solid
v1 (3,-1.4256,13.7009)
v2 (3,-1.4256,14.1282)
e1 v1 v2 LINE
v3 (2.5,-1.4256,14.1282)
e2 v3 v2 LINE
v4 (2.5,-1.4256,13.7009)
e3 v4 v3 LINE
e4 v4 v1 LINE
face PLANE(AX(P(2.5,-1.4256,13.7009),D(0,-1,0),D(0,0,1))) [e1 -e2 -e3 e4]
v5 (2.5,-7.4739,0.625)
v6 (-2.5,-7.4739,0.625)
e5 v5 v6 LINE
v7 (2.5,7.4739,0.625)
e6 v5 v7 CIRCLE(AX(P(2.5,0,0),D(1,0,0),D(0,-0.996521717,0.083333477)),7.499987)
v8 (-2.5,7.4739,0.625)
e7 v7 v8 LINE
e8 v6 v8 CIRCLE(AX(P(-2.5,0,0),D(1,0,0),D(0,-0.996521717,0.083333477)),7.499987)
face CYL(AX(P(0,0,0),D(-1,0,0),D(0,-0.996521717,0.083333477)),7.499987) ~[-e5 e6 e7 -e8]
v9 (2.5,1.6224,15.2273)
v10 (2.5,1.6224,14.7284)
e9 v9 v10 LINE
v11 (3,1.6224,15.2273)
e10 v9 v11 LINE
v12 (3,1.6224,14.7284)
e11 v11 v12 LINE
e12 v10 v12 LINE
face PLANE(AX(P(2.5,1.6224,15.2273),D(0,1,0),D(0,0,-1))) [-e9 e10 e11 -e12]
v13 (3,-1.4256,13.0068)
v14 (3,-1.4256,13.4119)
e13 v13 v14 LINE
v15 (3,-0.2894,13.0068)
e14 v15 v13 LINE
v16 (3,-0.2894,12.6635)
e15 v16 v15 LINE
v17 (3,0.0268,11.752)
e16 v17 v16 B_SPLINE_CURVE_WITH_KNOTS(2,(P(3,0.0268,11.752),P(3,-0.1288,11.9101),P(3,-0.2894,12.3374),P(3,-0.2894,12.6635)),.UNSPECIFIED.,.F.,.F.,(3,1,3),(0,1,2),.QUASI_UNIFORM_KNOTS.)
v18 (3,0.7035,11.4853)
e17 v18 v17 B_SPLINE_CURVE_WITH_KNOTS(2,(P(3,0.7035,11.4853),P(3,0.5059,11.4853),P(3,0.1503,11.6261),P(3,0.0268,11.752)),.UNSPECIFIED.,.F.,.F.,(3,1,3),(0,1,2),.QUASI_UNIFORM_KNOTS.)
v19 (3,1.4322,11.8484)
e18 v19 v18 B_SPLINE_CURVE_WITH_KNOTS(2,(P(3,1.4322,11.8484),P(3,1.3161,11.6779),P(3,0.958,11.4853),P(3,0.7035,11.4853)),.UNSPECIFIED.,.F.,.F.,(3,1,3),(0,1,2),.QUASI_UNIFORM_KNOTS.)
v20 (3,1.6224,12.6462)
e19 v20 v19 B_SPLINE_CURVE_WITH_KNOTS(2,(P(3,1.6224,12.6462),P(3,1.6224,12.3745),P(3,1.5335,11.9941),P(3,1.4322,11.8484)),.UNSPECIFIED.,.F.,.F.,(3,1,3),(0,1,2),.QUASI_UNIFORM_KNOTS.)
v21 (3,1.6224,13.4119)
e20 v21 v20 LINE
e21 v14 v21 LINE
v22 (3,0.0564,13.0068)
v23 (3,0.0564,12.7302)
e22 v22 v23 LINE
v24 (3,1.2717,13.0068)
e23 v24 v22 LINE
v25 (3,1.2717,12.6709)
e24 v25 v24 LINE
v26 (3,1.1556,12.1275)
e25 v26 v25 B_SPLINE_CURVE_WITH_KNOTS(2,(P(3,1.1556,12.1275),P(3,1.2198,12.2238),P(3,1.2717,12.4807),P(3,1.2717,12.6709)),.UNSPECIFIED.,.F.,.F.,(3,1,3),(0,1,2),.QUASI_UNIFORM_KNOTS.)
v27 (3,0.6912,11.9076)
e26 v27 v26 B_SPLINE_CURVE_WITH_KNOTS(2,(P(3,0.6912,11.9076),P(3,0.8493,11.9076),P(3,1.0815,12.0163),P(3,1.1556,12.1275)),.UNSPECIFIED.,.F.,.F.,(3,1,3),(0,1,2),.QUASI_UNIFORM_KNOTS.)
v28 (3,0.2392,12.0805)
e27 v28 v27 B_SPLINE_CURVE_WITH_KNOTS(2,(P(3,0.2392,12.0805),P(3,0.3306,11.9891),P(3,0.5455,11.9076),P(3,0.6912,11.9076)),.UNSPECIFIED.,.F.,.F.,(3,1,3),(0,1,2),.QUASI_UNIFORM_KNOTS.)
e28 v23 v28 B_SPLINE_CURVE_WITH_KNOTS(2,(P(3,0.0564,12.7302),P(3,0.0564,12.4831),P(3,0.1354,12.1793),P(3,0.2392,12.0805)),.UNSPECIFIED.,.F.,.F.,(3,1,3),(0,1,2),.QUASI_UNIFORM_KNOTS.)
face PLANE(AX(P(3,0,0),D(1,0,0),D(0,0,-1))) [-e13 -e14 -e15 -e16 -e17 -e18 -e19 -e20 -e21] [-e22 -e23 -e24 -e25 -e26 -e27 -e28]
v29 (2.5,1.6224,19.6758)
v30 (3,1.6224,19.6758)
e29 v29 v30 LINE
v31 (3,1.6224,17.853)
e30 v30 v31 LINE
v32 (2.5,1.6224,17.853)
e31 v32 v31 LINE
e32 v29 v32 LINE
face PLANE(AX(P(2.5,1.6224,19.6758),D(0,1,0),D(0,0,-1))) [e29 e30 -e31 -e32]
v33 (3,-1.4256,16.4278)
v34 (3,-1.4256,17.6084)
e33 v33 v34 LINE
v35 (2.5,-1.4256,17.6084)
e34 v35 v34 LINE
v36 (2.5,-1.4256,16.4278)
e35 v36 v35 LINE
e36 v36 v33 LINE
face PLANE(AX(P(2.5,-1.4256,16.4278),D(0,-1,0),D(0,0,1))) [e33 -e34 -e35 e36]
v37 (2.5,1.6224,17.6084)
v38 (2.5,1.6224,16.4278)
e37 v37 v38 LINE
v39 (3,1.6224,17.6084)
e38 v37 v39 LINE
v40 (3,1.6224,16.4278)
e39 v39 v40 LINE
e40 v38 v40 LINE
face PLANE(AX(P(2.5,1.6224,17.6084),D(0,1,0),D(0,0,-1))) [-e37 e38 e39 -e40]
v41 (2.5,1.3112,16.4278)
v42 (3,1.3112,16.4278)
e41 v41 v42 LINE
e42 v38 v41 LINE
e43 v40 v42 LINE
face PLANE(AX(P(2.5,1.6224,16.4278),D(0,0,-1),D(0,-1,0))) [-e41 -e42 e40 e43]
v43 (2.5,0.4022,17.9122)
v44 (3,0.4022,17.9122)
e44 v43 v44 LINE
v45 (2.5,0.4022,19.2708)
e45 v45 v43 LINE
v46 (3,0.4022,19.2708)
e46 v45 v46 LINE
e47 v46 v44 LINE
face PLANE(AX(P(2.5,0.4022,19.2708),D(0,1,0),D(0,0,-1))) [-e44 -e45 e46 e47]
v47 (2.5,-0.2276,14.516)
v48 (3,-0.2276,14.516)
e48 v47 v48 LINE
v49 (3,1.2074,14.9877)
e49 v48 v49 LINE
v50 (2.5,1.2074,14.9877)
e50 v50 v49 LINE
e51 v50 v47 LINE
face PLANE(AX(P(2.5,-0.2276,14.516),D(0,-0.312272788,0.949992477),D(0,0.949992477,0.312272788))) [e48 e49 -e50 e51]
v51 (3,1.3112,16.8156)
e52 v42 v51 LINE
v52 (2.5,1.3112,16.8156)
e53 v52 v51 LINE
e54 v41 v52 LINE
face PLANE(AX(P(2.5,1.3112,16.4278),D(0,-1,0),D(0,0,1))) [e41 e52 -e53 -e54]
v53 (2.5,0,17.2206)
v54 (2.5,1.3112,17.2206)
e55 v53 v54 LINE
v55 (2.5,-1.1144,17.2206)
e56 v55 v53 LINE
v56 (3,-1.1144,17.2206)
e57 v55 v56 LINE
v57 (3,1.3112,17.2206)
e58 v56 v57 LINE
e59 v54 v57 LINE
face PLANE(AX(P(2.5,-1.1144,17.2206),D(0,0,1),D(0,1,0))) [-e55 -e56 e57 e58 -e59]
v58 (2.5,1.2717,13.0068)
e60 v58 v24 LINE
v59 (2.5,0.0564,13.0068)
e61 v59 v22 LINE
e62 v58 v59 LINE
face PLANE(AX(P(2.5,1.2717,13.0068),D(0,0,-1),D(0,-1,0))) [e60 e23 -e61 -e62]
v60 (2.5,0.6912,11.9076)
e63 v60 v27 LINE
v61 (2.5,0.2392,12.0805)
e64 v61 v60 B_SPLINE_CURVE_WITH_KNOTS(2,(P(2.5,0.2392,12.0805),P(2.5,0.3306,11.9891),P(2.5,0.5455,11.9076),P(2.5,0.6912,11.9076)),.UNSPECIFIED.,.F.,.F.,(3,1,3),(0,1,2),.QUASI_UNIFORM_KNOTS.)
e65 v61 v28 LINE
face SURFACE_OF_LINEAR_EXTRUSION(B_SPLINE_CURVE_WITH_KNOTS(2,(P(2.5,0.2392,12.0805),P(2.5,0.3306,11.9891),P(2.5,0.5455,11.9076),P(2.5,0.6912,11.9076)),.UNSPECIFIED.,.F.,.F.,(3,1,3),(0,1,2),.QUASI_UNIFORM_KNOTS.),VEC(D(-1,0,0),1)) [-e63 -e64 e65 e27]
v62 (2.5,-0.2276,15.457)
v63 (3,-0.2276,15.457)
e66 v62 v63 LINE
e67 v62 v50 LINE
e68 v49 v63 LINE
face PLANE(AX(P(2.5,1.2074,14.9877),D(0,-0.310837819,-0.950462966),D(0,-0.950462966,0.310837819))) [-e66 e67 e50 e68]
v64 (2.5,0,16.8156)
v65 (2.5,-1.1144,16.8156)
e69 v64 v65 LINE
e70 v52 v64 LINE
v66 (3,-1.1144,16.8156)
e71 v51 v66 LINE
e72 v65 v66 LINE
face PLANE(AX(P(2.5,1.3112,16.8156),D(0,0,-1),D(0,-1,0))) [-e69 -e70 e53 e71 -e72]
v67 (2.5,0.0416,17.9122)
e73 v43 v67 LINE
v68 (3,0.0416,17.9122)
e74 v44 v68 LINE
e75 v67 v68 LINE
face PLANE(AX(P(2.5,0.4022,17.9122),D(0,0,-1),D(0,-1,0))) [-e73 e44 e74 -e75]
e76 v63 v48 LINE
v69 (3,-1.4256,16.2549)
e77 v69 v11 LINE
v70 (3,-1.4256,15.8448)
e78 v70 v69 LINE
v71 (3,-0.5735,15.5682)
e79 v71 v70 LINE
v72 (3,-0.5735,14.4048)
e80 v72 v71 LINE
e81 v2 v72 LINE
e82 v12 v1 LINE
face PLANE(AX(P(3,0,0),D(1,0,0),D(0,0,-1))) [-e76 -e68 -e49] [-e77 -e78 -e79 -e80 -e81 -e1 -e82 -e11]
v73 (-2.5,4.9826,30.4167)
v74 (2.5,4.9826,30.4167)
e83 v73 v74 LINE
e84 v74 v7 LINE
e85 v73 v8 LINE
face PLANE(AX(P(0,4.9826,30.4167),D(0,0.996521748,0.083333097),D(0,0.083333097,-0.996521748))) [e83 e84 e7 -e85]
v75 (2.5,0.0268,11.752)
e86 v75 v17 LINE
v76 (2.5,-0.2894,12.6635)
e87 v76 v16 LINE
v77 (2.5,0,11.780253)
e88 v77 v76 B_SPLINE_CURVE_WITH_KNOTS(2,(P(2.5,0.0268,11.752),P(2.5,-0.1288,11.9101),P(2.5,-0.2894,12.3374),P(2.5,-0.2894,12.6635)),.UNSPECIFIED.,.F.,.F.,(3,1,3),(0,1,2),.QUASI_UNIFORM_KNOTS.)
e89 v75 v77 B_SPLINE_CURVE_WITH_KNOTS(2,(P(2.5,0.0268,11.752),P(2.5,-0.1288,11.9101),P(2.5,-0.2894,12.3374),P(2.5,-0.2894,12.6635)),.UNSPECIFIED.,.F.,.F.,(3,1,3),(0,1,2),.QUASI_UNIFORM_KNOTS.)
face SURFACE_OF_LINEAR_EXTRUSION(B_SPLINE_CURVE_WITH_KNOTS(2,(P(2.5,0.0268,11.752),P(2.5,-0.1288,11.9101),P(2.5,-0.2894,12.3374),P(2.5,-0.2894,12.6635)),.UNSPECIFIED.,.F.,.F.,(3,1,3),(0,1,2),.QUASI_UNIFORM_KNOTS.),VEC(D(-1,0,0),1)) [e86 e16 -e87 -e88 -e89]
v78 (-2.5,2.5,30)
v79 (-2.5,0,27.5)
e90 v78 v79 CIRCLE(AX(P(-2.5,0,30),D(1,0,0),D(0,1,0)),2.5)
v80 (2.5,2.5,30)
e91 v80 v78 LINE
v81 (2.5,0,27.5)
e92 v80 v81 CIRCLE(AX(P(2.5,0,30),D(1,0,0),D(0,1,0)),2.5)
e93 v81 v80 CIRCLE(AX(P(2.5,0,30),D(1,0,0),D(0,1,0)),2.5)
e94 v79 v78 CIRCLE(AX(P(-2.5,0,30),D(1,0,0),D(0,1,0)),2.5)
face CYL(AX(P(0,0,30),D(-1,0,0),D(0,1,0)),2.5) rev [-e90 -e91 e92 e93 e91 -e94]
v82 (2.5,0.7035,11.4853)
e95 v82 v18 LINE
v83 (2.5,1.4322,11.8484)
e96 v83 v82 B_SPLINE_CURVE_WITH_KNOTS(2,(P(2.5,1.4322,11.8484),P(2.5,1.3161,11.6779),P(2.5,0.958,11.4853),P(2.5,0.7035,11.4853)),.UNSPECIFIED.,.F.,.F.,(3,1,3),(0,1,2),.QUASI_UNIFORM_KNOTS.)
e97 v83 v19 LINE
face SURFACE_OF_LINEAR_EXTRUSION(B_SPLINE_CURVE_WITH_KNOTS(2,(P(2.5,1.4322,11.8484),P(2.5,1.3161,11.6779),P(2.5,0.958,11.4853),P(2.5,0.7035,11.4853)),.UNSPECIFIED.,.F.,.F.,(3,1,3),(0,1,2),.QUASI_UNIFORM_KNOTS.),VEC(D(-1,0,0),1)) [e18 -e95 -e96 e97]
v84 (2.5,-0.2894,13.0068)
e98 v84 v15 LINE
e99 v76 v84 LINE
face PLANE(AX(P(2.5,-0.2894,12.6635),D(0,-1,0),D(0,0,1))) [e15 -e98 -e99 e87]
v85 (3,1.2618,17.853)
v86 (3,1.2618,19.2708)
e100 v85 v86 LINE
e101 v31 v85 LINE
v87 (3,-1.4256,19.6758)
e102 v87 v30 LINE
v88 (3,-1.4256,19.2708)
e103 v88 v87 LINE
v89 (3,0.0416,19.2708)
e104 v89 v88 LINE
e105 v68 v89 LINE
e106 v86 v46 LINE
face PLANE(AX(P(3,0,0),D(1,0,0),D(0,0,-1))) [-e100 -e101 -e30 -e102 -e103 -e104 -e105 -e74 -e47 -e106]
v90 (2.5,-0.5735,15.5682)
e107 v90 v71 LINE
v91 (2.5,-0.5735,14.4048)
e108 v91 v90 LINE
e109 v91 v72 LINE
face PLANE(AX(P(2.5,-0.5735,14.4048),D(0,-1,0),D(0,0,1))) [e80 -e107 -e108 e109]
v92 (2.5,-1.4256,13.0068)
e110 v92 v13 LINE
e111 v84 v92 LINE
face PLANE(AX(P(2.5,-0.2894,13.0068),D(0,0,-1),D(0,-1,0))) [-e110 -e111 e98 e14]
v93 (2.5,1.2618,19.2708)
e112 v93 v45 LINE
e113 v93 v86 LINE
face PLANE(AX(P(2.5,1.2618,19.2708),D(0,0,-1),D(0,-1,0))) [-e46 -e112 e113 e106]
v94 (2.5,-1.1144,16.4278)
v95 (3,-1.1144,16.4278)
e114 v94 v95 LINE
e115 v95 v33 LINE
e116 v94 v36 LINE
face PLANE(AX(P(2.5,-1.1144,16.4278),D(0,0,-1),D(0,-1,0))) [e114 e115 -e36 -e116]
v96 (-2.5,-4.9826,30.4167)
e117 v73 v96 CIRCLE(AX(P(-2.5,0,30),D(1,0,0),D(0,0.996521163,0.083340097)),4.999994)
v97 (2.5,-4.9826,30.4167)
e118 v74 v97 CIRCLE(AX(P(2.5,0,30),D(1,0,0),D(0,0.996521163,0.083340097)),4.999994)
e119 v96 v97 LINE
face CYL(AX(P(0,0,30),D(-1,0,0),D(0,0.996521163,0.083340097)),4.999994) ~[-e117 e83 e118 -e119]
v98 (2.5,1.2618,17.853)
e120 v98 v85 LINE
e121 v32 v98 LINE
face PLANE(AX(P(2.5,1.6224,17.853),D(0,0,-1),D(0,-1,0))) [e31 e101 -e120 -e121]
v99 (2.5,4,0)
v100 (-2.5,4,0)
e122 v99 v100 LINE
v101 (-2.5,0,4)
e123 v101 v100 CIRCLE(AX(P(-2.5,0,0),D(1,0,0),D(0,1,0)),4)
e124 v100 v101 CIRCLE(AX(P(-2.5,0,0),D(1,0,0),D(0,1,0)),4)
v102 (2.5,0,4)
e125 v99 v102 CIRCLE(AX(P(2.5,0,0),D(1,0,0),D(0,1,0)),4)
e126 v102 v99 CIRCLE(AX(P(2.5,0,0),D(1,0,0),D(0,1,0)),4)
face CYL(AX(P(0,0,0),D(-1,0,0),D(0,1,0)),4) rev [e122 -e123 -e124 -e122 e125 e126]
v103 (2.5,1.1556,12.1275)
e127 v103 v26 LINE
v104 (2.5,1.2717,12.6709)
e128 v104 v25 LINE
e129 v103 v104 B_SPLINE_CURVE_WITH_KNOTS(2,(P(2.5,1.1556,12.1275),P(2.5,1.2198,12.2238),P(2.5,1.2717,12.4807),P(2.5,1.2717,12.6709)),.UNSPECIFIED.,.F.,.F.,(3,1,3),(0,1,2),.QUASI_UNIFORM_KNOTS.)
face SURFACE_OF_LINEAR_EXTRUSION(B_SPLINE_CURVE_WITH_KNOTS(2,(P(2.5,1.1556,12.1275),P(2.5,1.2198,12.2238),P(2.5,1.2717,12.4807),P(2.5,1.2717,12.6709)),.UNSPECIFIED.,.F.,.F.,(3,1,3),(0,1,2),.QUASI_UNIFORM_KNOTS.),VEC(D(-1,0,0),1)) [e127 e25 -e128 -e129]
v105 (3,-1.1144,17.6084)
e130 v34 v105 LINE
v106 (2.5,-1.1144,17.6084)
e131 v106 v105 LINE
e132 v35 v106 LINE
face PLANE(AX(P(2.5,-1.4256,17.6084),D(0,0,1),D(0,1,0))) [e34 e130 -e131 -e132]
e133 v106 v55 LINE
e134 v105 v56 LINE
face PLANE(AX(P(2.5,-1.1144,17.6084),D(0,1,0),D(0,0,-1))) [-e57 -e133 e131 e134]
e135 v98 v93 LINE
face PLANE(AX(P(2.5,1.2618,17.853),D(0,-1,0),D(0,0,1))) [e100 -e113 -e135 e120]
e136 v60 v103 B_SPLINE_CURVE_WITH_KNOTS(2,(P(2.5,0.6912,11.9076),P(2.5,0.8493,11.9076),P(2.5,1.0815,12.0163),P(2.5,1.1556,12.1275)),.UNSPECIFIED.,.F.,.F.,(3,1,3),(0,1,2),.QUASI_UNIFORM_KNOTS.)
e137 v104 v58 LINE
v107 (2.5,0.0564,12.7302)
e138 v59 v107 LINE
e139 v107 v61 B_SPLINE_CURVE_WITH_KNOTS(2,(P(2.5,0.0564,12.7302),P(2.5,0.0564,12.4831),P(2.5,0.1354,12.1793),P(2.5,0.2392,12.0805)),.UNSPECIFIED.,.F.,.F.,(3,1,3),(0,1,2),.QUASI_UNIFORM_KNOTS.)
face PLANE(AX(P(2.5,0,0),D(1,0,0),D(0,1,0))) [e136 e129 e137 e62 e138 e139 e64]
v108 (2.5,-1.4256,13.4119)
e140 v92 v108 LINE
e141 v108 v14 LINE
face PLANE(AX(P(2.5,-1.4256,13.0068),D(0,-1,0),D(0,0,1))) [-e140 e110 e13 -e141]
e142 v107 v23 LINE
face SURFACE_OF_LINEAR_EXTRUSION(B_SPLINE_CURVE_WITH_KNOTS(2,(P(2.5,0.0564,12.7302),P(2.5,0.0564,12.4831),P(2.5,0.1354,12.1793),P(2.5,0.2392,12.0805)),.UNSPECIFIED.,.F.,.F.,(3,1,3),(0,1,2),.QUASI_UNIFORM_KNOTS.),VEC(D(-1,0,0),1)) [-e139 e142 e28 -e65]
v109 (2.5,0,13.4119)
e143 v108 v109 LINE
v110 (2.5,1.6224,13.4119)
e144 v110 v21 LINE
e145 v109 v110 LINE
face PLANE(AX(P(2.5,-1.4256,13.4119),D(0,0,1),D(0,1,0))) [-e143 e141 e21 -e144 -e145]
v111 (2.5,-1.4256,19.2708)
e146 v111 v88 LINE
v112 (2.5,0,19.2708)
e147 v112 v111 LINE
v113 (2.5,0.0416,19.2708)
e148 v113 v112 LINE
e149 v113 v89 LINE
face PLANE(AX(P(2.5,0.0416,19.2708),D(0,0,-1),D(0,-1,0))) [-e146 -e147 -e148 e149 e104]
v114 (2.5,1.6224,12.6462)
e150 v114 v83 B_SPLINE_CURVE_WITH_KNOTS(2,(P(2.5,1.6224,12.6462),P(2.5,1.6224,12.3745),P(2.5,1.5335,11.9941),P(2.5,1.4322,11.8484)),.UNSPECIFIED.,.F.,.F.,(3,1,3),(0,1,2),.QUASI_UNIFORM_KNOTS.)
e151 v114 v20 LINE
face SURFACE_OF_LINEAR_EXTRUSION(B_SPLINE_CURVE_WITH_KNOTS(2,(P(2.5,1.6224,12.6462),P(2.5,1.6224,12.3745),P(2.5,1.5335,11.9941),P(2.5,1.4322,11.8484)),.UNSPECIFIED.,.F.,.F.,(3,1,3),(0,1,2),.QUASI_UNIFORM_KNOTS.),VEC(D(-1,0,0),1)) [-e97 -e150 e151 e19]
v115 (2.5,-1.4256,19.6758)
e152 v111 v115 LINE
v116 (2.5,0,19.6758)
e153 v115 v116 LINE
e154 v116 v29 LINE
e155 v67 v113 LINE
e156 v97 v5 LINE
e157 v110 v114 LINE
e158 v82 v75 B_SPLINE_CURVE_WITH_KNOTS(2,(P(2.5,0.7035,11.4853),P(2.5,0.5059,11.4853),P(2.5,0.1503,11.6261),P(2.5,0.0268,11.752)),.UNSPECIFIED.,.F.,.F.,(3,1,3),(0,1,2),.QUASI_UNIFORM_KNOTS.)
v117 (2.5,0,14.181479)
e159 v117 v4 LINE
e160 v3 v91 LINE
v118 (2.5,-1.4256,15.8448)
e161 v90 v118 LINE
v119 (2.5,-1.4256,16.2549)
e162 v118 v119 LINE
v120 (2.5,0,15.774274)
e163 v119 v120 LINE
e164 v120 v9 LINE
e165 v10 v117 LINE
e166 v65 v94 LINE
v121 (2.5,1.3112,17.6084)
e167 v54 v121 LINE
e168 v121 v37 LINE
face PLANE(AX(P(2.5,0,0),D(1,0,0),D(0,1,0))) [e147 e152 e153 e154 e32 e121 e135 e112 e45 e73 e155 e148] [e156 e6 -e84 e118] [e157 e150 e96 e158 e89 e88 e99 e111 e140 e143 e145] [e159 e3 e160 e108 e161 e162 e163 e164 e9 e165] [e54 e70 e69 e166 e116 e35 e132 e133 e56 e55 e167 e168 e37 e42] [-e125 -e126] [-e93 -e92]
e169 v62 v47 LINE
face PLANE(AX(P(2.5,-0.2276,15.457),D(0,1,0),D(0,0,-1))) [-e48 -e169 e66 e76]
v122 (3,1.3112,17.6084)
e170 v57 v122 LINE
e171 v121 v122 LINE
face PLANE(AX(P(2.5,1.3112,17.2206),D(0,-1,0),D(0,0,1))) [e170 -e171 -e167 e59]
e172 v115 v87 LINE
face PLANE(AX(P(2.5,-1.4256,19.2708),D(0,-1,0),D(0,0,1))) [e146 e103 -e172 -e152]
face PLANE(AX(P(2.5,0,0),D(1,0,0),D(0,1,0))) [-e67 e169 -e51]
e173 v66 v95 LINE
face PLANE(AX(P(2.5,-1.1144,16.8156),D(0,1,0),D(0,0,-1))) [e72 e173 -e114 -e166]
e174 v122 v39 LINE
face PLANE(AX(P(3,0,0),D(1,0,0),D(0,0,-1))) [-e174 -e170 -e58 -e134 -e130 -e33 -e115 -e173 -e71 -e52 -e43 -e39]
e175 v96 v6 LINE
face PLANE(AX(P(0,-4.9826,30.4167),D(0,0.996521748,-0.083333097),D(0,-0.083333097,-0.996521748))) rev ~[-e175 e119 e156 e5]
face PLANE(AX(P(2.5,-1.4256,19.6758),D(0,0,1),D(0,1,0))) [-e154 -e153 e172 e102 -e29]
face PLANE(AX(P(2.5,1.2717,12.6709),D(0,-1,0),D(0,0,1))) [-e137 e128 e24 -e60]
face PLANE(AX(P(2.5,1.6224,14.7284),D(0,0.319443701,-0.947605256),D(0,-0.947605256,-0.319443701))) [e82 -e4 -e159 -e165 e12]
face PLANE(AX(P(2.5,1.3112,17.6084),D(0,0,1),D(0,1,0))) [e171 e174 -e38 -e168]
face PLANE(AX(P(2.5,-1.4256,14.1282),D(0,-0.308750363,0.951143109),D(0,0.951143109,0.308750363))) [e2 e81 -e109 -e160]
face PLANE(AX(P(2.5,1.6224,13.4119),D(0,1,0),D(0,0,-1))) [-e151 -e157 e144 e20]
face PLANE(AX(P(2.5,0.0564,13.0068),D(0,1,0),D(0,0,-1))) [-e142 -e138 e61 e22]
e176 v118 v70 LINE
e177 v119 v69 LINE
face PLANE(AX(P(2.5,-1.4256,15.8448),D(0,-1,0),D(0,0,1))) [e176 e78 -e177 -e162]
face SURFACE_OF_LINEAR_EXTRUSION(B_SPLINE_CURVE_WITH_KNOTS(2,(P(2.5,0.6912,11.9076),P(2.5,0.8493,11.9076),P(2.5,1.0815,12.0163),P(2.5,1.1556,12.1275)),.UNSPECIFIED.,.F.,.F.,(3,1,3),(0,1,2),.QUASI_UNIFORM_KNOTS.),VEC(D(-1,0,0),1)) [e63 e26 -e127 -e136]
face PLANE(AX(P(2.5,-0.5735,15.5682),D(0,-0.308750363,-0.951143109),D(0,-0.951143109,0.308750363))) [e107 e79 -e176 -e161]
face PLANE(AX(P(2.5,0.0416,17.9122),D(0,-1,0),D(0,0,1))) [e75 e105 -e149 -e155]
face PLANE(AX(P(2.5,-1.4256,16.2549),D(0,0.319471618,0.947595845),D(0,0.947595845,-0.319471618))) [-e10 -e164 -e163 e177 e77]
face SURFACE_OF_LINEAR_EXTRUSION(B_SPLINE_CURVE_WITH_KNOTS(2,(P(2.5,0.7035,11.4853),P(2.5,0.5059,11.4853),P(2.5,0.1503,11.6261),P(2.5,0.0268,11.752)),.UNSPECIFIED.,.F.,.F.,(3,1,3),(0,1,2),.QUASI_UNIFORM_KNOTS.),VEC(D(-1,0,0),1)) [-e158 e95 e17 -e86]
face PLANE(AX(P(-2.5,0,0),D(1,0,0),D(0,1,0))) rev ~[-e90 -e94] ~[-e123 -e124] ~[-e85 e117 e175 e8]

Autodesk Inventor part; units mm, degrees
ref_plane "YZ Plane" through (0, 0, 0) normal (1, 0, 0) x (0, 1, 0)
ref_plane "XZ Plane" through (0, 0, 0) normal (0, 1, 0) x (-1, 0, 0)
ref_plane "XY Plane" through (0, 0, 0) normal (0, 0, 1) x (1, 0, 0)
sketch "Esboço1" plane through (0, 0, 0) normal (1, 0, 0) x (0, 1, 0)
  line L0 (0, 0) -> (0, 30)
  circle A0 centre (0, 0) radius 4
  circle A1 centre (0, 30) radius 2.5
  arc A2 (4.9826, 30.4167) -> (-4.9826, 30.4167) centre (0, 30) ccw
  arc A3 (-7.4739, 0.625) -> (7.4739, 0.625) centre (0, 0) ccw
  line L1 (4.9826, 30.4167) -> (7.4739, 0.625)
  line L2 (-4.9826, 30.4167) -> (-7.4739, 0.625)
extrude "Extrusão1" add sketch "Esboço1" along normal mid plane 5
sketch "Esboço2" plane through (2.5, 0, 0) normal (1, 0, 0) x (0, 0, -1)
  line L0 (-19.9846, 1.6224) -> (-11.4087, 1.6224) construction
  line L1 (-11.4087, 1.6224) -> (-11.4087, -1.4256) construction
  line L2 (-11.4087, -1.4256) -> (-19.9846, -1.4256) construction
  line L3 (-19.9846, -1.4256) -> (-19.9846, 1.6224) construction
  circle A0 centre (-30, 0) radius 2.5 projected
  line L4 (-17.853, 1.2618) -> (-19.2708, 1.2618)
  line L5 (-19.2708, 1.2618) -> (-19.2708, 0.4022)
  line L6 (-19.2708, 0.4022) -> (-17.9122, 0.4022)
  line L7 (-17.9122, 0.4022) -> (-17.9122, 0.0416)
  line L8 (-17.9122, 0.0416) -> (-19.2708, 0.0416)
  line L9 (-19.2708, 0.0416) -> (-19.2708, -1.4256)
  line L10 (-19.2708, -1.4256) -> (-19.6758, -1.4256)
  line L11 (-19.6758, -1.4256) -> (-19.6758, 1.6224)
  line L12 (-19.6758, 1.6224) -> (-17.853, 1.6224)
  line L13 (-17.853, 1.6224) -> (-17.853, 1.2618)
  line L14 (-16.4278, -1.4256) -> (-17.6084, -1.4256)
  line L15 (-17.6084, -1.4256) -> (-17.6084, -1.1144)
  line L16 (-17.6084, -1.1144) -> (-17.2206, -1.1144)
  line L17 (-17.2206, -1.1144) -> (-17.2206, 1.3112)
  line L18 (-17.2206, 1.3112) -> (-17.6084, 1.3112)
  line L19 (-17.6084, 1.3112) -> (-17.6084, 1.6224)
  line L20 (-17.6084, 1.6224) -> (-16.4278, 1.6224)
  line L21 (-16.4278, 1.6224) -> (-16.4278, 1.3112)
  line L22 (-16.4278, 1.3112) -> (-16.8156, 1.3112)
  line L23 (-16.8156, 1.3112) -> (-16.8156, -1.1144)
  line L24 (-16.8156, -1.1144) -> (-16.4278, -1.1144)
  line L25 (-16.4278, -1.1144) -> (-16.4278, -1.4256)
  line L26 (-16.2549, -1.4256) -> (-15.2273, 1.6224)
  line L27 (-15.2273, 1.6224) -> (-14.7284, 1.6224)
  line L28 (-14.7284, 1.6224) -> (-13.7009, -1.4256)
  line L29 (-13.7009, -1.4256) -> (-14.1282, -1.4256)
  line L30 (-14.1282, -1.4256) -> (-14.4048, -0.5735)
  line L31 (-14.4048, -0.5735) -> (-15.5682, -0.5735)
  line L32 (-15.5682, -0.5735) -> (-15.8448, -1.4256)
  line L33 (-15.8448, -1.4256) -> (-16.2549, -1.4256)
  line L34 (-14.516, -0.2276) -> (-14.9877, 1.2074)
  line L35 (-14.9877, 1.2074) -> (-15.457, -0.2276)
  line L36 (-15.457, -0.2276) -> (-14.516, -0.2276)
  spline S0 degree 2 poles (-11.4853, 0.7035) (-11.4853, 0.5059) (-11.6261, 0.1503) (-11.752, 0.0268) knots 0 0 0 1 2 2 2
  spline S1 degree 2 poles (-11.752, 0.0268) (-11.9101, -0.1288) (-12.3374, -0.2894) (-12.6635, -0.2894) knots 0 0 0 1 2 2 2
  line L37 (-12.6635, -0.2894) -> (-13.0068, -0.2894)
  line L38 (-13.0068, -0.2894) -> (-13.0068, -1.4256)
  line L39 (-13.0068, -1.4256) -> (-13.4119, -1.4256)
  line L40 (-13.4119, -1.4256) -> (-13.4119, 1.6224)
  line L41 (-13.4119, 1.6224) -> (-12.6462, 1.6224)
  spline S2 degree 2 poles (-12.6462, 1.6224) (-12.3745, 1.6224) (-11.9941, 1.5335) (-11.8484, 1.4322) knots 0 0 0 1 2 2 2
  spline S3 degree 2 poles (-11.8484, 1.4322) (-11.6779, 1.3161) (-11.4853, 0.958) (-11.4853, 0.7035) knots 0 0 0 1 2 2 2
  spline S4 degree 2 poles (-11.9076, 0.6912) (-11.9076, 0.8493) (-12.0163, 1.0815) (-12.1275, 1.1556) knots 0 0 0 1 2 2 2
  spline S5 degree 2 poles (-12.1275, 1.1556) (-12.2238, 1.2198) (-12.4807, 1.2717) (-12.6709, 1.2717) knots 0 0 0 1 2 2 2
  line L42 (-12.6709, 1.2717) -> (-13.0068, 1.2717)
  line L43 (-13.0068, 1.2717) -> (-13.0068, 0.0564)
  line L44 (-13.0068, 0.0564) -> (-12.7302, 0.0564)
  spline S6 degree 2 poles (-12.7302, 0.0564) (-12.4831, 0.0564) (-12.1793, 0.1354) (-12.0805, 0.2392) knots 0 0 0 1 2 2 2
  spline S7 degree 2 poles (-12.0805, 0.2392) (-11.9891, 0.3306) (-11.9076, 0.5455) (-11.9076, 0.6912) knots 0 0 0 1 2 2 2
  point P0 (0, 0)
extrude "Extrusão2" add sketch "Esboço2" along normal blind 0.5 contours L4 L5 L6 L7 L8 L9 L10 L11 L12 L13 | L14 L15 L16 L17 L18 L19 L20 L21 L22 L23 L24 L25 | L26 L27 L28 L29 L30 L31 L32 L33 | S0 S1 L37 L38 L39 L40 L41 S2 S3
